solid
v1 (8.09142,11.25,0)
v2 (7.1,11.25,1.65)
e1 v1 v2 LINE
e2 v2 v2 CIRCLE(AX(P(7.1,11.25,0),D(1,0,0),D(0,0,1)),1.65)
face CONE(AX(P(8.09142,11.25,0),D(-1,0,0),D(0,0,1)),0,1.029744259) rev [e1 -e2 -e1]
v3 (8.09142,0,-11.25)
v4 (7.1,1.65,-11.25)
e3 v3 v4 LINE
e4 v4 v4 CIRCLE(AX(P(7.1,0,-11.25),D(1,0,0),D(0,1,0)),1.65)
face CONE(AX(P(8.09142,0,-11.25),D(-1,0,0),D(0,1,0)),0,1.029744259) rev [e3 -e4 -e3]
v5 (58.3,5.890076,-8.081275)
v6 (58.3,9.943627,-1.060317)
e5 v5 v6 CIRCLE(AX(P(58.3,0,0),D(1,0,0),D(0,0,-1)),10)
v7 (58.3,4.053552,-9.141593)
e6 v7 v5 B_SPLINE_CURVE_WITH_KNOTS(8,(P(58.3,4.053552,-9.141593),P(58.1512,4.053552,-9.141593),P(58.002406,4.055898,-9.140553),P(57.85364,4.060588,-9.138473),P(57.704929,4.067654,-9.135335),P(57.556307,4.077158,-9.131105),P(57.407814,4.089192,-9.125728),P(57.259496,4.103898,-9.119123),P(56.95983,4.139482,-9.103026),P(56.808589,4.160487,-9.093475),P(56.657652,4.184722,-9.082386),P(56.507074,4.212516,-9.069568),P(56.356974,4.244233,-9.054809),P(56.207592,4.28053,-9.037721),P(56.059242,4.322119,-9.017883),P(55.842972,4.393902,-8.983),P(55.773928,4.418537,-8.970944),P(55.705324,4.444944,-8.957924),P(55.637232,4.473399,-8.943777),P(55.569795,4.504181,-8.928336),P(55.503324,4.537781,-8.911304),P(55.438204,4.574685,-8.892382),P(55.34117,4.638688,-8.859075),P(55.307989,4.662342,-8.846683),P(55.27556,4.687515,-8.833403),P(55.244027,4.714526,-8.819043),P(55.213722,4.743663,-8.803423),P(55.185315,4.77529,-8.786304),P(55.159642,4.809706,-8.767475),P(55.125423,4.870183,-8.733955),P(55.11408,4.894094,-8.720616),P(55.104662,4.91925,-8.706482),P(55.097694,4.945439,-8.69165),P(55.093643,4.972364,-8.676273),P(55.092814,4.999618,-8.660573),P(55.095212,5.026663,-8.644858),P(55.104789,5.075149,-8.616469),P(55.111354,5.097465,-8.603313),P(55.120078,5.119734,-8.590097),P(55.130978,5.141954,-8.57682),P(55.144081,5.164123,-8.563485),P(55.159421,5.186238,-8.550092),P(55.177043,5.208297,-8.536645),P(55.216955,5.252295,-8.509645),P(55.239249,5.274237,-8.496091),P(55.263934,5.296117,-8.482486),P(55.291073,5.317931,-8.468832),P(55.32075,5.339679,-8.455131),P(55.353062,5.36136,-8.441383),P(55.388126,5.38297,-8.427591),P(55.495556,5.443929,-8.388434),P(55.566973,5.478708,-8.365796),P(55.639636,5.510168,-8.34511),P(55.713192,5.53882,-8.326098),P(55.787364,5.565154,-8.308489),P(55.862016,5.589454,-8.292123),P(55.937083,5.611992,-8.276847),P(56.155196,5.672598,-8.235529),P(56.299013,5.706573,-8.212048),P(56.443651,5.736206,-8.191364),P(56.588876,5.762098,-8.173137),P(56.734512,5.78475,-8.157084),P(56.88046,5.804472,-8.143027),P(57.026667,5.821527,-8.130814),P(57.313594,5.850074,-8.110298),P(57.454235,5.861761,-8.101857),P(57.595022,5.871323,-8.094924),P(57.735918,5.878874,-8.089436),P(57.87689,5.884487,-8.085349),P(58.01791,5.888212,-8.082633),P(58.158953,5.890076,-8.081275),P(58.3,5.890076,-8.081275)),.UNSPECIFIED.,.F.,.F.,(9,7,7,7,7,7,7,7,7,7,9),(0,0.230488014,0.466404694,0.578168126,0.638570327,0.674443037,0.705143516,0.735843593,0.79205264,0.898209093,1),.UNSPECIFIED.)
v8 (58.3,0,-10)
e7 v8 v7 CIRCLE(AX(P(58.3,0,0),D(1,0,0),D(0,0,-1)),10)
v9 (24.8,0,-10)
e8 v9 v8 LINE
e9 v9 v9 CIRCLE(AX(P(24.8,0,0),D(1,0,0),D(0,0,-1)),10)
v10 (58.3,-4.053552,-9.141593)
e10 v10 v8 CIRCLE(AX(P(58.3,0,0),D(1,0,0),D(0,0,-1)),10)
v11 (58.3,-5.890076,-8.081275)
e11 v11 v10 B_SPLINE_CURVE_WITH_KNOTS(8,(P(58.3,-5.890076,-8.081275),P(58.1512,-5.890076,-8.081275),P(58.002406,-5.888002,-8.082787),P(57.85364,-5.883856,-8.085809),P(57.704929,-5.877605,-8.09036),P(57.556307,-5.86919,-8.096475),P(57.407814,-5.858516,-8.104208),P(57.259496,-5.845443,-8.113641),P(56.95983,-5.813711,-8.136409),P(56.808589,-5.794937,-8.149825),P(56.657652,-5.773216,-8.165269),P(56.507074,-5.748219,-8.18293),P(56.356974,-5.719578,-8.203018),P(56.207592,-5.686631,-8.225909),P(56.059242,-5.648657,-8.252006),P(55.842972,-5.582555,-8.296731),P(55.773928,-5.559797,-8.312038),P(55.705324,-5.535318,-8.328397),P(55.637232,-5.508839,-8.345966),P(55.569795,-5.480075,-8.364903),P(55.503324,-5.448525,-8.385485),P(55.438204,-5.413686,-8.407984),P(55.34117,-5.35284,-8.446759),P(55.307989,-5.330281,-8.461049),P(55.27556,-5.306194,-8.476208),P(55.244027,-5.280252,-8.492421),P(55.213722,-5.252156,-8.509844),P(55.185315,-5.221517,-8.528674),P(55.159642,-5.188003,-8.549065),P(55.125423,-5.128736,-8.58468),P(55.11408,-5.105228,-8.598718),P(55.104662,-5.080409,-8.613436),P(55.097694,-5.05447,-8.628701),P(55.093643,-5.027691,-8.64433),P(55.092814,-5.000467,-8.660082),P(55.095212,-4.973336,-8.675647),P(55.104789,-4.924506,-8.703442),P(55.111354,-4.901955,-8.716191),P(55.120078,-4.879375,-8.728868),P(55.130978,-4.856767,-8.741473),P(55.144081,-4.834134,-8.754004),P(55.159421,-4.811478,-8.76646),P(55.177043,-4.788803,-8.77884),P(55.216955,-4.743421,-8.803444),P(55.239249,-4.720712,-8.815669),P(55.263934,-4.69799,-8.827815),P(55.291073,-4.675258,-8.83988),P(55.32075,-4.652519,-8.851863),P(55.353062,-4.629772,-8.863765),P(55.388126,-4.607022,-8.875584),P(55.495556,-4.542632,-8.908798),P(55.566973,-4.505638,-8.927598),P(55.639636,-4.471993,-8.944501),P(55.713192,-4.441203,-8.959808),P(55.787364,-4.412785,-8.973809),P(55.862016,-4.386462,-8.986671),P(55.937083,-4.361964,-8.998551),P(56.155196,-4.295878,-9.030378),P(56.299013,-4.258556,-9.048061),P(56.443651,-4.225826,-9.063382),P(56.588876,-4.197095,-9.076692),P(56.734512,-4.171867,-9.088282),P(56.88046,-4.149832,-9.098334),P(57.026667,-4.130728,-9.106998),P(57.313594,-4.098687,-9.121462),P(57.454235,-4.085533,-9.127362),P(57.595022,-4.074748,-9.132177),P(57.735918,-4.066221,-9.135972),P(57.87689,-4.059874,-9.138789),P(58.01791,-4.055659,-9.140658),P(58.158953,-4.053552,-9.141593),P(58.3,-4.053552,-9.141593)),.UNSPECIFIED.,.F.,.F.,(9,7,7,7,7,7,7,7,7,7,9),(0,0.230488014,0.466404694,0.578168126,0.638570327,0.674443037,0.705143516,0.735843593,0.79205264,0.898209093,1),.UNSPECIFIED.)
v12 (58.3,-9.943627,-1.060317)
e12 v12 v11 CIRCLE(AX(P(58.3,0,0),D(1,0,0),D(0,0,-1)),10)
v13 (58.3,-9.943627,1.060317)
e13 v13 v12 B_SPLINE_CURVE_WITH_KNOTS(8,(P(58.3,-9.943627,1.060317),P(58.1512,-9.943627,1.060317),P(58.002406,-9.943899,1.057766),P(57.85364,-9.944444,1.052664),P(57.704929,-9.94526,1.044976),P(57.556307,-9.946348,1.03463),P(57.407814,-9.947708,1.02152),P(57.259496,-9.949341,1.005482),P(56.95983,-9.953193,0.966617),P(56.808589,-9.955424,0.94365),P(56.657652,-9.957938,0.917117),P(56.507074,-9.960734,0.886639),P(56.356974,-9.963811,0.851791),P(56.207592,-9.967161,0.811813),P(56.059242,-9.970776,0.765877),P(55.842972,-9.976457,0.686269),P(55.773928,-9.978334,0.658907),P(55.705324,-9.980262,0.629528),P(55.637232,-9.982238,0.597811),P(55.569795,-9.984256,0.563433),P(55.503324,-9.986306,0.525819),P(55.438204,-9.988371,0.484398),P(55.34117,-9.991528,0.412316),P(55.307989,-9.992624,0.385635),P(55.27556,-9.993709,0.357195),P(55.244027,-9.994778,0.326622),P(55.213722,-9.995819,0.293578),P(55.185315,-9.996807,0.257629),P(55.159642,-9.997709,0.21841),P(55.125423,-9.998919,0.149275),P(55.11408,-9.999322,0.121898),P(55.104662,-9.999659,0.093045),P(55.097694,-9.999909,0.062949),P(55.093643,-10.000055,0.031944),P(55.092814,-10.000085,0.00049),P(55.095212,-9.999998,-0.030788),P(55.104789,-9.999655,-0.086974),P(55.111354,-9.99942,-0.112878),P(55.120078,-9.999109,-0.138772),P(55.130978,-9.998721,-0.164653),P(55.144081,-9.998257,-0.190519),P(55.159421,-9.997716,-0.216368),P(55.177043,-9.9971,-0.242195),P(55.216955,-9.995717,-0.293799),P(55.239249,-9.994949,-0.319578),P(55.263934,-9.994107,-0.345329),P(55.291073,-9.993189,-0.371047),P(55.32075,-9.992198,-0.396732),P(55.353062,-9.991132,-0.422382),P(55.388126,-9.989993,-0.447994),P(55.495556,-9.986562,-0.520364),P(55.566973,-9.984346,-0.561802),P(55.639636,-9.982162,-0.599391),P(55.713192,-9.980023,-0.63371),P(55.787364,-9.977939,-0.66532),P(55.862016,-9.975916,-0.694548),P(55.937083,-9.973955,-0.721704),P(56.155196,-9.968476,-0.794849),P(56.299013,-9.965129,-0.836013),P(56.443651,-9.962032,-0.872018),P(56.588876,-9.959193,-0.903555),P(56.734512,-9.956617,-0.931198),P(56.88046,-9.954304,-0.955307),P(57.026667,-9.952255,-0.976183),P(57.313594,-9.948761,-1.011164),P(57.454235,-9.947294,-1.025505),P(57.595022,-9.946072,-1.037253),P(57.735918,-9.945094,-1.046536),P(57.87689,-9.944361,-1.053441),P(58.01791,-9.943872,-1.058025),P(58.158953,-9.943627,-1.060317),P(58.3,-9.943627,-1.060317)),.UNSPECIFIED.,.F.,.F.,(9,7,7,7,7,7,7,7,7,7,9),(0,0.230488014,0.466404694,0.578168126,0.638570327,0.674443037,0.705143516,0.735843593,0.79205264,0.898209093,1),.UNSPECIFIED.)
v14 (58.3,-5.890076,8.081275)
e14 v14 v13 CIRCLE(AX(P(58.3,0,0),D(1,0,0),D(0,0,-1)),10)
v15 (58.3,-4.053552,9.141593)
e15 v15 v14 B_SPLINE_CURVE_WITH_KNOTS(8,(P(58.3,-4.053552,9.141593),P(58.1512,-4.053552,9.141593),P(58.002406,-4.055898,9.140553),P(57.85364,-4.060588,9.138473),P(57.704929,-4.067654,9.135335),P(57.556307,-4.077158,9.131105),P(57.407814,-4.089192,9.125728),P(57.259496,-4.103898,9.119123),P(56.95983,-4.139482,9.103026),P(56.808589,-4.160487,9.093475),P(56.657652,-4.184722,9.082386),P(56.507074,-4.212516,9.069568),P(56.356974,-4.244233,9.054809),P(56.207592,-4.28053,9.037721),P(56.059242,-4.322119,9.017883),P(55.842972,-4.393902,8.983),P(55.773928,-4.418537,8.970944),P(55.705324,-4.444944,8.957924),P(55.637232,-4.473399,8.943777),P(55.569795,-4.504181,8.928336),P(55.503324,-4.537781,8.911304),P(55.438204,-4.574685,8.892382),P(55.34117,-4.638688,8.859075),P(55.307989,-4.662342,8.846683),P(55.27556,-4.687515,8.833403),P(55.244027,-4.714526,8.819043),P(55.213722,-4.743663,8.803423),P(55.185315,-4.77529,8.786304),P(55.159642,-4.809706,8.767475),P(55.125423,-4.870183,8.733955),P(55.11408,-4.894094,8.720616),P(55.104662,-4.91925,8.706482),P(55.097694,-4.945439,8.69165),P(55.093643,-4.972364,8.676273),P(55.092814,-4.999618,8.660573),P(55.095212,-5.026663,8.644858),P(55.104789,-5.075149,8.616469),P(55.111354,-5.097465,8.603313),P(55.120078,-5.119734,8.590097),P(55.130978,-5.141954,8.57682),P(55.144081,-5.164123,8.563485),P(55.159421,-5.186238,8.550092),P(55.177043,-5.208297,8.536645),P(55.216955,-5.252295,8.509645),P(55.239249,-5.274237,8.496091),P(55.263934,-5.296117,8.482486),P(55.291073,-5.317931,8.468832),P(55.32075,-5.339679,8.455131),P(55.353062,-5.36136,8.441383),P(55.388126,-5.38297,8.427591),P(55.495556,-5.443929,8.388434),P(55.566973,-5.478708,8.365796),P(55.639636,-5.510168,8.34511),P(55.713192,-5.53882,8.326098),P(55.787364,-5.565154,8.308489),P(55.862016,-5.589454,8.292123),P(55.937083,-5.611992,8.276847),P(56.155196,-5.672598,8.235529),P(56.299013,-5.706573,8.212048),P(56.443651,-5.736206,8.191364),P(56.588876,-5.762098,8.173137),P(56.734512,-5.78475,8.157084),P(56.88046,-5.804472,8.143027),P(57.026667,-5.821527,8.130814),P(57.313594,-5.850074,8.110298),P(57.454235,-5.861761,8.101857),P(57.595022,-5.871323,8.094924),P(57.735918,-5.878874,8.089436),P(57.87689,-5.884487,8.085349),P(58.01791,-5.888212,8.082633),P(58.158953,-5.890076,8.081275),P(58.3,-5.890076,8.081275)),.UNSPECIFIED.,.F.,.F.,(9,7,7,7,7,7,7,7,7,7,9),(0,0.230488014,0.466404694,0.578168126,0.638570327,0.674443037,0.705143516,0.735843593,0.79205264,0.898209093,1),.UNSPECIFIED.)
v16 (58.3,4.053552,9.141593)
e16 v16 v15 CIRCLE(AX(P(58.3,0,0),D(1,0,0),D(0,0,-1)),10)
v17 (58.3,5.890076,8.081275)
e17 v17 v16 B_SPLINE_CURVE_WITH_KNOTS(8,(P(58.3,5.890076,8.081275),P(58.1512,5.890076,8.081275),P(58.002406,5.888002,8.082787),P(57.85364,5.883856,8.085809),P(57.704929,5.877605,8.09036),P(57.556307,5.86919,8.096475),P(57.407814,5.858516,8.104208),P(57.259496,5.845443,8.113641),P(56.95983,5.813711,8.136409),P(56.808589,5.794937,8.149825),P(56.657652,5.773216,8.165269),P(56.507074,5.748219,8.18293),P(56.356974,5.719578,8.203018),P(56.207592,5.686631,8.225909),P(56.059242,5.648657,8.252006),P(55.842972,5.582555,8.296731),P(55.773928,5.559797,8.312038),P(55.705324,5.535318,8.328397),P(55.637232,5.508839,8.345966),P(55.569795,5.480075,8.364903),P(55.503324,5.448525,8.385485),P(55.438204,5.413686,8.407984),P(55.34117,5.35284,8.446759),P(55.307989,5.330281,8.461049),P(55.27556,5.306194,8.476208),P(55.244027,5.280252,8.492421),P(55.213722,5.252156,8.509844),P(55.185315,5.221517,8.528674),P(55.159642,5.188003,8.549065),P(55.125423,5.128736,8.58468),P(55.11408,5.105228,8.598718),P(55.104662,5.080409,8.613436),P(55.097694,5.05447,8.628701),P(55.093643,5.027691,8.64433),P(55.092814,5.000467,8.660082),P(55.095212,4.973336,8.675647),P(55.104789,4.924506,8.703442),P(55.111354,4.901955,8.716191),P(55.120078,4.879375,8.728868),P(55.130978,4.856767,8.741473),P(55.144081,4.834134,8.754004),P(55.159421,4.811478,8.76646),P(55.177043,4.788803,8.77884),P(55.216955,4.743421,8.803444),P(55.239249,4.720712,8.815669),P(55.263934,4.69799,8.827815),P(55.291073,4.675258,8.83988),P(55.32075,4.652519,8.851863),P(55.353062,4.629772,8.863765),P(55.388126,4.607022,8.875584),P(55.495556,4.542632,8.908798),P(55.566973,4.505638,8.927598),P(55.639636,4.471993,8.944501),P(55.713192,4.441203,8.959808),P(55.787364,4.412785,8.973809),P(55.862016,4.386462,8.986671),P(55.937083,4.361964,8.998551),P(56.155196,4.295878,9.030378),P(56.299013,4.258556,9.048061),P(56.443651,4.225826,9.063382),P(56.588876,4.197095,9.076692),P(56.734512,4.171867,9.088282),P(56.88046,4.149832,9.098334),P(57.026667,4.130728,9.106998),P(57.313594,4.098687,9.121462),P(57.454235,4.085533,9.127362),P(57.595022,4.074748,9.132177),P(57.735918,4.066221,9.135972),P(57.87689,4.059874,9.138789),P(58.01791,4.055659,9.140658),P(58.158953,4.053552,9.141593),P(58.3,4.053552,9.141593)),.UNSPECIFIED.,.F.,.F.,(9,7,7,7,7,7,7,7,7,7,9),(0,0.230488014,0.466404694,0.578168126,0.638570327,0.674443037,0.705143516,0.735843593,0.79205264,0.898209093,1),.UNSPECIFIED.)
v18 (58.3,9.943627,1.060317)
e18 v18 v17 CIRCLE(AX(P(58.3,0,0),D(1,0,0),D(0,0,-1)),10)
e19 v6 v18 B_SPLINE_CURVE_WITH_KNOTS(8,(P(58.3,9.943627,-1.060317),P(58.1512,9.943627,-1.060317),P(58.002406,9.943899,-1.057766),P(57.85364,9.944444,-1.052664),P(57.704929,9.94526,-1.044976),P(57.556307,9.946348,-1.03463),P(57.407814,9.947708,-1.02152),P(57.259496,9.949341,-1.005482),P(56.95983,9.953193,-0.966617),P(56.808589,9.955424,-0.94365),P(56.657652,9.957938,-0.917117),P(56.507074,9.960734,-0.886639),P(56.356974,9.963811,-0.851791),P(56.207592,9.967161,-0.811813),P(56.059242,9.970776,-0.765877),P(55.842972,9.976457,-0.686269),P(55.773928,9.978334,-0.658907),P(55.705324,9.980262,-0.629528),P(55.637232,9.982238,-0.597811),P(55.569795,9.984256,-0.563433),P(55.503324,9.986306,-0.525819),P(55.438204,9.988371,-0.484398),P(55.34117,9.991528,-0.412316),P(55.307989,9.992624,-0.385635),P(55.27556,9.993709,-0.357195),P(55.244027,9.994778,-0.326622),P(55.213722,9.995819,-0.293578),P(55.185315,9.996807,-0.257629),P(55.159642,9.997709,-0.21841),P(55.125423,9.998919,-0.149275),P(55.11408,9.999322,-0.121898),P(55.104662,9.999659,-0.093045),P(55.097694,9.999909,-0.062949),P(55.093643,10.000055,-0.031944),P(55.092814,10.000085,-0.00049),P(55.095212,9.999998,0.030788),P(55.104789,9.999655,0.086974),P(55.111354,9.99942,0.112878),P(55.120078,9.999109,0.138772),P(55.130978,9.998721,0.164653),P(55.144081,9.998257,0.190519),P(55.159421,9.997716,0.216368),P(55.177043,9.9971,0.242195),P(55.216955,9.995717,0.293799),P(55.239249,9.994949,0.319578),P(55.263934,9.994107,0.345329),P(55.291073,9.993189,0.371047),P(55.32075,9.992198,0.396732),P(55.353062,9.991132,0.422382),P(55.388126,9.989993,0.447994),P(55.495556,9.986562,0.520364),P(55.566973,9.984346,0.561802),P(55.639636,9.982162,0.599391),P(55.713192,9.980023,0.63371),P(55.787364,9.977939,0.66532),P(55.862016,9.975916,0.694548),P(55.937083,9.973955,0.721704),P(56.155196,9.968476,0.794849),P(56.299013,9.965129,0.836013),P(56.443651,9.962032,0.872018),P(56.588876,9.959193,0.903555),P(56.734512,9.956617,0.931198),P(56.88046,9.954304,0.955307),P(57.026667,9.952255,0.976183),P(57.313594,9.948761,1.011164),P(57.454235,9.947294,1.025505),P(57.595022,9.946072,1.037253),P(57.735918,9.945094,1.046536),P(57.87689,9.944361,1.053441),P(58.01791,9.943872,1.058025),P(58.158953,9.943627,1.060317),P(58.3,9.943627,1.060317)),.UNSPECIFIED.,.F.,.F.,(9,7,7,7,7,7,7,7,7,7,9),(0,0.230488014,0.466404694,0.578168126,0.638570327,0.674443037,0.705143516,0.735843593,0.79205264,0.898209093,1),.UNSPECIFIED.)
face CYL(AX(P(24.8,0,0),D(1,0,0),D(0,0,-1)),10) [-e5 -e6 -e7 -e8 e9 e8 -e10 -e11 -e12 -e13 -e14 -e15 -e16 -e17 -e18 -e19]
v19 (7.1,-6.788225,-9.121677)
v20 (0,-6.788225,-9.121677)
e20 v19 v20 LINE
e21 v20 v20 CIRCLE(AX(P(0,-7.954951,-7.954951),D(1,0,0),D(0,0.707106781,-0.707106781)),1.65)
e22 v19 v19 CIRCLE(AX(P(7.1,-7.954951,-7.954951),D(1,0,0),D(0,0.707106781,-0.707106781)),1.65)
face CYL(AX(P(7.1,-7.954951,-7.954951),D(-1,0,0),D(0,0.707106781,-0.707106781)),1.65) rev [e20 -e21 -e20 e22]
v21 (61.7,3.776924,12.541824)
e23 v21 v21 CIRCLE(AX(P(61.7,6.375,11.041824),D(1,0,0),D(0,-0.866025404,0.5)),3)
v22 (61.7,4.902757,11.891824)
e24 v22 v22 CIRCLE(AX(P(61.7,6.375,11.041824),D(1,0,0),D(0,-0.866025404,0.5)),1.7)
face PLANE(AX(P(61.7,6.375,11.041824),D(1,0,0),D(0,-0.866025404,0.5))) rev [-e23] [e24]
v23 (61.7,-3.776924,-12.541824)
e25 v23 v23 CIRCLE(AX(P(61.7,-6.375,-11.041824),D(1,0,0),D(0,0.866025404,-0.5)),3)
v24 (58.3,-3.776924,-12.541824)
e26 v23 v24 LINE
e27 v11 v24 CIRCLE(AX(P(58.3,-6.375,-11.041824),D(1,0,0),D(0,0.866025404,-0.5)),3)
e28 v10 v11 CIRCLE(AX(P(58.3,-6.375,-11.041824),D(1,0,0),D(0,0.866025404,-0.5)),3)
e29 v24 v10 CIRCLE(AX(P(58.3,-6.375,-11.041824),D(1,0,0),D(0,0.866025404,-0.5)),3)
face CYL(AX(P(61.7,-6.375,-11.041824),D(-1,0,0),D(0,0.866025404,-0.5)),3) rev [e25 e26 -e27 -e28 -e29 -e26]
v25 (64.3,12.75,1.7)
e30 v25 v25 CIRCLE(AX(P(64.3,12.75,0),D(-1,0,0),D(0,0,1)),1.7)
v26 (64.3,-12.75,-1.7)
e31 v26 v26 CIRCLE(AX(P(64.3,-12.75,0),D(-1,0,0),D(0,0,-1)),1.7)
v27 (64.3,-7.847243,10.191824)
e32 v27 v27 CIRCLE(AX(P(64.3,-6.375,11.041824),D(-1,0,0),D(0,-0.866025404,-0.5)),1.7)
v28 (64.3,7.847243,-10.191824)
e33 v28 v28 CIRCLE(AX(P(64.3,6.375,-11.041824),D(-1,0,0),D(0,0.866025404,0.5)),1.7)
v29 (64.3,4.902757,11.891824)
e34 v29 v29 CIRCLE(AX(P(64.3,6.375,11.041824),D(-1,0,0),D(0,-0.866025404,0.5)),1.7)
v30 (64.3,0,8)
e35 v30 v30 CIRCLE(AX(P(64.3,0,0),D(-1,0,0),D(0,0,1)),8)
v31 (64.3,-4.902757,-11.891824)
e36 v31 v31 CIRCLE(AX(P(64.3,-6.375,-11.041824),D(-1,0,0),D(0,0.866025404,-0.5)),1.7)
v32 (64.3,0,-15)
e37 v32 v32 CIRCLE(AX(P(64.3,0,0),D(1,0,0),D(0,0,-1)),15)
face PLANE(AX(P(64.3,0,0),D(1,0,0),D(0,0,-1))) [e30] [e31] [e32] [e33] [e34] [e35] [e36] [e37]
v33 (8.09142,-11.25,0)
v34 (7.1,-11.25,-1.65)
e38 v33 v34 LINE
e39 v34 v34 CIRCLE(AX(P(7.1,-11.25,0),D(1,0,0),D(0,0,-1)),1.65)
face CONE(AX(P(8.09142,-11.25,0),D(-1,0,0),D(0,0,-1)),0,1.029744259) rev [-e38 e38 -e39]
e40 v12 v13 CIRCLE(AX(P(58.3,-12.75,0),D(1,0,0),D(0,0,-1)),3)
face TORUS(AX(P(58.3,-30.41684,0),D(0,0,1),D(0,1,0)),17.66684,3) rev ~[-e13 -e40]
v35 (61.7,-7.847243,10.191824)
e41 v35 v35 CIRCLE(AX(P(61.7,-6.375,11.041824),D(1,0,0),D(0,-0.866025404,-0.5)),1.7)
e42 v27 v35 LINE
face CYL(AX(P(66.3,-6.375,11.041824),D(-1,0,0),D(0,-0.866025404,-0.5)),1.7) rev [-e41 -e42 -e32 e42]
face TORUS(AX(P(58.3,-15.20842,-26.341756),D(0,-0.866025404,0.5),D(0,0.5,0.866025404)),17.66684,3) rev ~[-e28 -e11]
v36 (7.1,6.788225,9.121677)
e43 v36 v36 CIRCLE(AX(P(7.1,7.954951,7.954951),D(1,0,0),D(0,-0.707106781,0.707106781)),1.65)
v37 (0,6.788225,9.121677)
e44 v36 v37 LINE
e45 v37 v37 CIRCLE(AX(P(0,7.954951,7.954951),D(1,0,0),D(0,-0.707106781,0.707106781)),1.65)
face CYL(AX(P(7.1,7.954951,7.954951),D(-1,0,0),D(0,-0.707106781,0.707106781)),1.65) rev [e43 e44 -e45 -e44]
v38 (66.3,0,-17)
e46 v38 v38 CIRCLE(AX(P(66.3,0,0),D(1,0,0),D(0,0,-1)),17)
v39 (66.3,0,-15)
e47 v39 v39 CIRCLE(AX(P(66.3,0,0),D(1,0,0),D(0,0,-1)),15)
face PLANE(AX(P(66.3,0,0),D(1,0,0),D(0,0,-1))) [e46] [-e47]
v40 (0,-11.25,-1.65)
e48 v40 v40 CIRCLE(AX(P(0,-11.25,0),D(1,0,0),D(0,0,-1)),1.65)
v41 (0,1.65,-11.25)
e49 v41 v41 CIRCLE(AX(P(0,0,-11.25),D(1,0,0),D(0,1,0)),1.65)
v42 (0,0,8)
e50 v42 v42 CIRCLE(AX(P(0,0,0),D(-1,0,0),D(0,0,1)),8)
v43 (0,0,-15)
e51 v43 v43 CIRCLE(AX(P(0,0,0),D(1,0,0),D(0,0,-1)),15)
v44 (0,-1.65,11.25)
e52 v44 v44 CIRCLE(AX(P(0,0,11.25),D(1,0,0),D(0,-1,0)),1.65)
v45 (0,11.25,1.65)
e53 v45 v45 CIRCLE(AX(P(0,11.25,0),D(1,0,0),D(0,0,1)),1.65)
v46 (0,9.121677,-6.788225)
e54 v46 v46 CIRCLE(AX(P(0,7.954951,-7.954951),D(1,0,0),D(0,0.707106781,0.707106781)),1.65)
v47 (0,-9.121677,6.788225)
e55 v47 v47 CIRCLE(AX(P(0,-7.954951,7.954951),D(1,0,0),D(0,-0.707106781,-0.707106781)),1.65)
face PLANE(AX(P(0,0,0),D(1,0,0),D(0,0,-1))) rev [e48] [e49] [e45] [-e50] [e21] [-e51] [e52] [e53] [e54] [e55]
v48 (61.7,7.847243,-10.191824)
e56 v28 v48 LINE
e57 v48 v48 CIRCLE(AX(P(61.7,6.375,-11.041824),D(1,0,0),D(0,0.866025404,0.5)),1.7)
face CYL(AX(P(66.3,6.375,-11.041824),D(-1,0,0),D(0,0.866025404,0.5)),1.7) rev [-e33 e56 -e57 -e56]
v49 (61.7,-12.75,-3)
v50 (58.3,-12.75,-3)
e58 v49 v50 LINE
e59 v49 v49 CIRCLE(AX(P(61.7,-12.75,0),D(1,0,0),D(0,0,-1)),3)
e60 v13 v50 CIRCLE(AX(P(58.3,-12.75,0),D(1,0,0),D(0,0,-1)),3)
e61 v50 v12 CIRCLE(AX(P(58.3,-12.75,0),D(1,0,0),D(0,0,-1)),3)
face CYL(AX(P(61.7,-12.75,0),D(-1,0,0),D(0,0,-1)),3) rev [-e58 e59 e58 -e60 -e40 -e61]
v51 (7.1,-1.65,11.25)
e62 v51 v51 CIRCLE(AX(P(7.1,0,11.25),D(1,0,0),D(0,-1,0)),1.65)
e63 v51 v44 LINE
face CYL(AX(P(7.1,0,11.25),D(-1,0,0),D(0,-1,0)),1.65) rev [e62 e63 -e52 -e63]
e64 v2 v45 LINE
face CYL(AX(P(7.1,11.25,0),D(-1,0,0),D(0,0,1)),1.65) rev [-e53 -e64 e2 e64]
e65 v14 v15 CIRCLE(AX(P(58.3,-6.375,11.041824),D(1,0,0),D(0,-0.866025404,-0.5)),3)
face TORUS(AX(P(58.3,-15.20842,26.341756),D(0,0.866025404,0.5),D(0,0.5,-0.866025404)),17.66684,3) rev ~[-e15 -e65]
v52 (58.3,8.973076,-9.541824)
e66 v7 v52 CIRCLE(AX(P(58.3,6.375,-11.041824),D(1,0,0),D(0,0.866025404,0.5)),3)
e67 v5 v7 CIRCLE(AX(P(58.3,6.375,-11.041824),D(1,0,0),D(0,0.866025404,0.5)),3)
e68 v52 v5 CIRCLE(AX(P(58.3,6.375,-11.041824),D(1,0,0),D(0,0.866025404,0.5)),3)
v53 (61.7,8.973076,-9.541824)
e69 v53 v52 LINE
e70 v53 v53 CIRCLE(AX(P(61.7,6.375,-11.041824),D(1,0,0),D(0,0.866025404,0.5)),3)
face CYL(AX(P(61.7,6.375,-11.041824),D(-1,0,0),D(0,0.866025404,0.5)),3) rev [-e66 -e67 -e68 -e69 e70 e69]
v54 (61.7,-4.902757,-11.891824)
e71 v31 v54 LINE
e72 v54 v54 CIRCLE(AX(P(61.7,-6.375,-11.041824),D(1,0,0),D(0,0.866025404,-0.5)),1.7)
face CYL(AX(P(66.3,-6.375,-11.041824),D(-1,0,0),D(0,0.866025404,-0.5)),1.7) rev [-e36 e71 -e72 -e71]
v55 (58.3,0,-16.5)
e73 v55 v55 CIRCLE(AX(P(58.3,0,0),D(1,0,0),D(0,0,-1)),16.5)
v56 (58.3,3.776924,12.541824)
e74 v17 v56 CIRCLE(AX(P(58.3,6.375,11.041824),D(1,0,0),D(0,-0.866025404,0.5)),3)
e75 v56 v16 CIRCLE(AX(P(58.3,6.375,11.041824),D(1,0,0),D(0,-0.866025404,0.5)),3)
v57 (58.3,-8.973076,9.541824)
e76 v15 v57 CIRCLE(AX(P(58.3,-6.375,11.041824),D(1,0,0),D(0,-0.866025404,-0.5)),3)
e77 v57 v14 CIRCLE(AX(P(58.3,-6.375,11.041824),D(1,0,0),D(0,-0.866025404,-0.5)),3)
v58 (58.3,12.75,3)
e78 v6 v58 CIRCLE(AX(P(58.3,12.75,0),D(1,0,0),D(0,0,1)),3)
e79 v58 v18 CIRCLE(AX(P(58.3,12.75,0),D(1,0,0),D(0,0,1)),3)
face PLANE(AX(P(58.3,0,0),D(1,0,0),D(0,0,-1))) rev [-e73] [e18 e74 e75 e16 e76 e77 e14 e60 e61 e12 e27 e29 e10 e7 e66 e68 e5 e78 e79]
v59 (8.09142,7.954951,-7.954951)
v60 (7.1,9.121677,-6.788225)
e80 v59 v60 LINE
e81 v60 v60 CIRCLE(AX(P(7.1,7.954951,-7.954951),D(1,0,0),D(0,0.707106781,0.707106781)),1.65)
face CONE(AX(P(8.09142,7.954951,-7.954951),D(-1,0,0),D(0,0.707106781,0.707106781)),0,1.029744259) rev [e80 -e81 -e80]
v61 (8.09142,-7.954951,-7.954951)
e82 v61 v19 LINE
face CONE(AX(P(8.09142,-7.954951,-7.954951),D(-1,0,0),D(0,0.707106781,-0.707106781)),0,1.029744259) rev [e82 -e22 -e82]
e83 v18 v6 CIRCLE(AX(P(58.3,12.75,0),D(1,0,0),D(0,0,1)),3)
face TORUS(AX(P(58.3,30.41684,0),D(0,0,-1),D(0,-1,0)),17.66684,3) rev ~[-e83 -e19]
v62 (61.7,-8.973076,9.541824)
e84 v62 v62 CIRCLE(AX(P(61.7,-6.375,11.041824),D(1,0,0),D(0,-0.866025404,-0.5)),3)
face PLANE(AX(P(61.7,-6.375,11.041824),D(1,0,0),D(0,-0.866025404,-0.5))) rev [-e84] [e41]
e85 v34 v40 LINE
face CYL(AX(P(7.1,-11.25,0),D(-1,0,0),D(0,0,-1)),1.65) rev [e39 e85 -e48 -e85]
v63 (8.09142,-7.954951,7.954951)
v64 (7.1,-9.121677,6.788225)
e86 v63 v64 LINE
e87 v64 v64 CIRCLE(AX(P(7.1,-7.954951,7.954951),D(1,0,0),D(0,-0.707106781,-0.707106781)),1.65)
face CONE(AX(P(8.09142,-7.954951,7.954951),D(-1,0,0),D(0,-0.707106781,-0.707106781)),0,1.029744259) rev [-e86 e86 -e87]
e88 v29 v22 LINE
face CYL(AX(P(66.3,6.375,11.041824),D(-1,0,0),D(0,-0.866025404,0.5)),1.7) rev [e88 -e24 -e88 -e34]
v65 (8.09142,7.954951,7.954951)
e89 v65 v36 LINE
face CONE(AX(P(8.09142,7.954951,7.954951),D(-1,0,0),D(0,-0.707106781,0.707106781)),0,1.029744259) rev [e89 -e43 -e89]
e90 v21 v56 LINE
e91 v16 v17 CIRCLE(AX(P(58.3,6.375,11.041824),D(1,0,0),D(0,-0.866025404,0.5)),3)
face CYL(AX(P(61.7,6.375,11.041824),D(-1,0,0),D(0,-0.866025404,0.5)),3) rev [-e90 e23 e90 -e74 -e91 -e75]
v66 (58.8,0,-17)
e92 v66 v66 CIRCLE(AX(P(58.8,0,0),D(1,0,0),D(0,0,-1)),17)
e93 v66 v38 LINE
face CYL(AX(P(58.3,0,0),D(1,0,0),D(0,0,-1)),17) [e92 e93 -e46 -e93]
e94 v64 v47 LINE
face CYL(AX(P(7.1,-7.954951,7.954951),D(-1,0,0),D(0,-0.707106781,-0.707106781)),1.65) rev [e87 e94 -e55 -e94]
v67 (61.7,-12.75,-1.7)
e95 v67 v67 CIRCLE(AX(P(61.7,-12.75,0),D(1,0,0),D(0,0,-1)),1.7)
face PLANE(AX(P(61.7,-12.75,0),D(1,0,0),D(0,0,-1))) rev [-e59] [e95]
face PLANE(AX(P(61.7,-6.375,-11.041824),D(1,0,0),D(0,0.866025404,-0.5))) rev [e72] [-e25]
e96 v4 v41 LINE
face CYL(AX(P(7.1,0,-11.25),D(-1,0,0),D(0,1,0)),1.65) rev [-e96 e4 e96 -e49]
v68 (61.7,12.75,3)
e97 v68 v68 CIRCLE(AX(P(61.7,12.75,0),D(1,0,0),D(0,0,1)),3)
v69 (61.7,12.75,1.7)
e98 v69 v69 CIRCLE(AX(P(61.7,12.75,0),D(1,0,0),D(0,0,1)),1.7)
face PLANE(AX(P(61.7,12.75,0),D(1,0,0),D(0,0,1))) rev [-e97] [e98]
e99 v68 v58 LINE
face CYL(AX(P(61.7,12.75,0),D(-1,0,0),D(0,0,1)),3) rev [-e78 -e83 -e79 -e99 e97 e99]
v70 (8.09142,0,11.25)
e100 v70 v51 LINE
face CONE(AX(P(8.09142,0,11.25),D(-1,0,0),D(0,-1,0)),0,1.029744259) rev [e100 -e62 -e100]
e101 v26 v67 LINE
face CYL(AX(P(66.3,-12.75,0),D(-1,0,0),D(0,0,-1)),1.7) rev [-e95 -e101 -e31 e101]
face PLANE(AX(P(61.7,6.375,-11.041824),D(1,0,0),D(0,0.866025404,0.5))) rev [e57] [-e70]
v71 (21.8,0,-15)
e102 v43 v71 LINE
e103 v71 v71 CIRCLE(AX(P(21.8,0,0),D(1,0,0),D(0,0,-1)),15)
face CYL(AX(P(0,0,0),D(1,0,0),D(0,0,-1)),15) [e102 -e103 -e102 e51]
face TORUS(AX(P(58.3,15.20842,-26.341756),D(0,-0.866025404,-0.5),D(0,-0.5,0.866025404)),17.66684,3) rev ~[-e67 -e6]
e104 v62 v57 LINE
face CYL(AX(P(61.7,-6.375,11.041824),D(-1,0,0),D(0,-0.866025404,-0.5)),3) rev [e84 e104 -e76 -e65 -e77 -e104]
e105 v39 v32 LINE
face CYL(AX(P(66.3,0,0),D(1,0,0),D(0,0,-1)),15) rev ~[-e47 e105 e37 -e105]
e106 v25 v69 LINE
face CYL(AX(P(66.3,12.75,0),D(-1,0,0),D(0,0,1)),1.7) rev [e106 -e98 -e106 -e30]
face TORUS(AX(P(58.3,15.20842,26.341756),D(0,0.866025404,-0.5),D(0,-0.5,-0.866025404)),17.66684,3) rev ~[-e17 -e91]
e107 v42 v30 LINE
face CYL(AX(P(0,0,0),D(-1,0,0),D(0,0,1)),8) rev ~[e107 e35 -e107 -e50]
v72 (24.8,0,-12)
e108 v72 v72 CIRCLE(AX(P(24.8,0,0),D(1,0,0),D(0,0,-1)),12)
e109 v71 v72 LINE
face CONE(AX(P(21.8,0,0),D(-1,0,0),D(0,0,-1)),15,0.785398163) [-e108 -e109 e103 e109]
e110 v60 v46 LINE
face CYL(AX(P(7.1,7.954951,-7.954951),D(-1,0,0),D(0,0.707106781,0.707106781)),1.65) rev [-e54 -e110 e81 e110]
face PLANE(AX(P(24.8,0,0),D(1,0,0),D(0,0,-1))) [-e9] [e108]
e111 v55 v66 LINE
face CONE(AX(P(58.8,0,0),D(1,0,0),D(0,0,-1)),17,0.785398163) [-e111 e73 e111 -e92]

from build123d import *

# Parameters (mm, degrees)
SKETCH_2_R               = 8
CUT_EXTRUDE_1_DEPTH      = 71.524392943
SKETCH_6_R               = 3
PATTERN_CIRCULAR_2_COUNT = 6
SKETCH_5_R               = 15
CUT_EXTRUDE_2_DEPTH      = 2
CHAMFER_1_SIZE           = 3
CHAMFER_2_SIZE           = 0.5
PATTERN_CIRCULAR_3_COUNT = 8


with BuildPart() as part:
    # 草图1 → 旋转1 (revolve)
    with BuildSketch(Plane(origin=(0, 0, 0), x_dir=(1, 0, 0), z_dir=(0, 1, 0))):
        Polygon((0, 0), (0, 15), (24.8, 15), (24.8, 10), (58.3, 10), (58.3, 17), (66.3, 17), (66.3, 0), align=None)
    revolve(axis=Axis((-27.673469388, 0, 0), (1, 0, 0)))

    # 草图2 → 切除-拉伸1 (cut, through all)
    with BuildSketch(Plane.ZY):
        Circle(SKETCH_2_R)
    extrude(amount=-CUT_EXTRUDE_1_DEPTH, mode=Mode.SUBTRACT)

    # 草图3 → 打孔尺寸(%根据)内六角圆柱头螺钉的类型1 (revolve, cut)
    with BuildSketch(Plane(origin=(58.3, 12.75, 0), x_dir=(0, 0, 1), z_dir=(0, 1, 0))):
        Polygon((0, 0), (0, 8), (1.7, 8), (1.7, 3.4), (3, 3.4), (3, 0), align=None)
    hole_wizard_1 = revolve(axis=Axis((51.95, 12.75, 0), (1, 0, 0)), mode=Mode.SUBTRACT)

    # 切除-扫描1: sweep along a path in 草图7
    with BuildLine(Plane.XY) as sweep_1_path:
        ThreePointArc((58.3, 13.946689979), (47.696988858, 17.813586648), (42.072772548, 27.598520272))
    # 草图6 → 切除-扫描1 (sweep, cut)
    with BuildSketch(Plane.ZY.offset(-58.3)):
        with Locations((0, 12.75)):
            Circle(SKETCH_6_R)
    sweep_1 = sweep(path=sweep_1_path.line, mode=Mode.SUBTRACT)

    # 阵列(圆周)2: 打孔尺寸(%根据)内六角圆柱头螺钉的类型1, 切除-扫描1 ×6 about axis
    pattern_circular_2_axis = Axis((66.3, 0, 0), (-1, 0, 0))
    add([hole_wizard_1.rotate(pattern_circular_2_axis, i * 360 / PATTERN_CIRCULAR_2_COUNT) for i in range(1, PATTERN_CIRCULAR_2_COUNT)], mode=Mode.SUBTRACT)
    add([sweep_1.rotate(pattern_circular_2_axis, i * 360 / PATTERN_CIRCULAR_2_COUNT) for i in range(1, PATTERN_CIRCULAR_2_COUNT)], mode=Mode.SUBTRACT)

    # 草图5 → 切除-拉伸2 (cut)
    with BuildSketch(Plane(origin=(66.3, 0, 0), x_dir=(0, 0, -1), z_dir=(1, 0, 0))):
        Circle(SKETCH_5_R)
    extrude(amount=-CUT_EXTRUDE_2_DEPTH, mode=Mode.SUBTRACT)

    # 倒角1
    chamfer_1_edges = [part.edges().sort_by_distance(p)[0] for p in [
        (24.8, 0, 15),
    ]]
    chamfer(chamfer_1_edges, length=CHAMFER_1_SIZE)

    # 倒角2
    chamfer_2_edges = [part.edges().sort_by_distance(p)[0] for p in [
        (58.3, 0, 17),
    ]]
    chamfer(chamfer_2_edges, length=CHAMFER_2_SIZE)

    # 草图11 → M4 螺纹孔1 (revolve, cut)
    with BuildSketch(Plane.ZX.offset(11.25)):
        Polygon((0, 0), (0, 8.091420021), (1.65, 7.1), (1.65, 0), align=None)
    hole_wizard_m4_1 = revolve(axis=Axis((-6.35, 11.25, 0), (1, 0, 0)), mode=Mode.SUBTRACT)

    # 阵列(圆周)3: M4 螺纹孔1 ×8 about axis
    pattern_circular_3_axis = Axis((66.3, 0, 0), (-1, 0, 0))
    for i in range(1, PATTERN_CIRCULAR_3_COUNT):
        add(hole_wizard_m4_1.rotate(pattern_circular_3_axis, i * 360 / PATTERN_CIRCULAR_3_COUNT), mode=Mode.SUBTRACT)


solid = part.part
